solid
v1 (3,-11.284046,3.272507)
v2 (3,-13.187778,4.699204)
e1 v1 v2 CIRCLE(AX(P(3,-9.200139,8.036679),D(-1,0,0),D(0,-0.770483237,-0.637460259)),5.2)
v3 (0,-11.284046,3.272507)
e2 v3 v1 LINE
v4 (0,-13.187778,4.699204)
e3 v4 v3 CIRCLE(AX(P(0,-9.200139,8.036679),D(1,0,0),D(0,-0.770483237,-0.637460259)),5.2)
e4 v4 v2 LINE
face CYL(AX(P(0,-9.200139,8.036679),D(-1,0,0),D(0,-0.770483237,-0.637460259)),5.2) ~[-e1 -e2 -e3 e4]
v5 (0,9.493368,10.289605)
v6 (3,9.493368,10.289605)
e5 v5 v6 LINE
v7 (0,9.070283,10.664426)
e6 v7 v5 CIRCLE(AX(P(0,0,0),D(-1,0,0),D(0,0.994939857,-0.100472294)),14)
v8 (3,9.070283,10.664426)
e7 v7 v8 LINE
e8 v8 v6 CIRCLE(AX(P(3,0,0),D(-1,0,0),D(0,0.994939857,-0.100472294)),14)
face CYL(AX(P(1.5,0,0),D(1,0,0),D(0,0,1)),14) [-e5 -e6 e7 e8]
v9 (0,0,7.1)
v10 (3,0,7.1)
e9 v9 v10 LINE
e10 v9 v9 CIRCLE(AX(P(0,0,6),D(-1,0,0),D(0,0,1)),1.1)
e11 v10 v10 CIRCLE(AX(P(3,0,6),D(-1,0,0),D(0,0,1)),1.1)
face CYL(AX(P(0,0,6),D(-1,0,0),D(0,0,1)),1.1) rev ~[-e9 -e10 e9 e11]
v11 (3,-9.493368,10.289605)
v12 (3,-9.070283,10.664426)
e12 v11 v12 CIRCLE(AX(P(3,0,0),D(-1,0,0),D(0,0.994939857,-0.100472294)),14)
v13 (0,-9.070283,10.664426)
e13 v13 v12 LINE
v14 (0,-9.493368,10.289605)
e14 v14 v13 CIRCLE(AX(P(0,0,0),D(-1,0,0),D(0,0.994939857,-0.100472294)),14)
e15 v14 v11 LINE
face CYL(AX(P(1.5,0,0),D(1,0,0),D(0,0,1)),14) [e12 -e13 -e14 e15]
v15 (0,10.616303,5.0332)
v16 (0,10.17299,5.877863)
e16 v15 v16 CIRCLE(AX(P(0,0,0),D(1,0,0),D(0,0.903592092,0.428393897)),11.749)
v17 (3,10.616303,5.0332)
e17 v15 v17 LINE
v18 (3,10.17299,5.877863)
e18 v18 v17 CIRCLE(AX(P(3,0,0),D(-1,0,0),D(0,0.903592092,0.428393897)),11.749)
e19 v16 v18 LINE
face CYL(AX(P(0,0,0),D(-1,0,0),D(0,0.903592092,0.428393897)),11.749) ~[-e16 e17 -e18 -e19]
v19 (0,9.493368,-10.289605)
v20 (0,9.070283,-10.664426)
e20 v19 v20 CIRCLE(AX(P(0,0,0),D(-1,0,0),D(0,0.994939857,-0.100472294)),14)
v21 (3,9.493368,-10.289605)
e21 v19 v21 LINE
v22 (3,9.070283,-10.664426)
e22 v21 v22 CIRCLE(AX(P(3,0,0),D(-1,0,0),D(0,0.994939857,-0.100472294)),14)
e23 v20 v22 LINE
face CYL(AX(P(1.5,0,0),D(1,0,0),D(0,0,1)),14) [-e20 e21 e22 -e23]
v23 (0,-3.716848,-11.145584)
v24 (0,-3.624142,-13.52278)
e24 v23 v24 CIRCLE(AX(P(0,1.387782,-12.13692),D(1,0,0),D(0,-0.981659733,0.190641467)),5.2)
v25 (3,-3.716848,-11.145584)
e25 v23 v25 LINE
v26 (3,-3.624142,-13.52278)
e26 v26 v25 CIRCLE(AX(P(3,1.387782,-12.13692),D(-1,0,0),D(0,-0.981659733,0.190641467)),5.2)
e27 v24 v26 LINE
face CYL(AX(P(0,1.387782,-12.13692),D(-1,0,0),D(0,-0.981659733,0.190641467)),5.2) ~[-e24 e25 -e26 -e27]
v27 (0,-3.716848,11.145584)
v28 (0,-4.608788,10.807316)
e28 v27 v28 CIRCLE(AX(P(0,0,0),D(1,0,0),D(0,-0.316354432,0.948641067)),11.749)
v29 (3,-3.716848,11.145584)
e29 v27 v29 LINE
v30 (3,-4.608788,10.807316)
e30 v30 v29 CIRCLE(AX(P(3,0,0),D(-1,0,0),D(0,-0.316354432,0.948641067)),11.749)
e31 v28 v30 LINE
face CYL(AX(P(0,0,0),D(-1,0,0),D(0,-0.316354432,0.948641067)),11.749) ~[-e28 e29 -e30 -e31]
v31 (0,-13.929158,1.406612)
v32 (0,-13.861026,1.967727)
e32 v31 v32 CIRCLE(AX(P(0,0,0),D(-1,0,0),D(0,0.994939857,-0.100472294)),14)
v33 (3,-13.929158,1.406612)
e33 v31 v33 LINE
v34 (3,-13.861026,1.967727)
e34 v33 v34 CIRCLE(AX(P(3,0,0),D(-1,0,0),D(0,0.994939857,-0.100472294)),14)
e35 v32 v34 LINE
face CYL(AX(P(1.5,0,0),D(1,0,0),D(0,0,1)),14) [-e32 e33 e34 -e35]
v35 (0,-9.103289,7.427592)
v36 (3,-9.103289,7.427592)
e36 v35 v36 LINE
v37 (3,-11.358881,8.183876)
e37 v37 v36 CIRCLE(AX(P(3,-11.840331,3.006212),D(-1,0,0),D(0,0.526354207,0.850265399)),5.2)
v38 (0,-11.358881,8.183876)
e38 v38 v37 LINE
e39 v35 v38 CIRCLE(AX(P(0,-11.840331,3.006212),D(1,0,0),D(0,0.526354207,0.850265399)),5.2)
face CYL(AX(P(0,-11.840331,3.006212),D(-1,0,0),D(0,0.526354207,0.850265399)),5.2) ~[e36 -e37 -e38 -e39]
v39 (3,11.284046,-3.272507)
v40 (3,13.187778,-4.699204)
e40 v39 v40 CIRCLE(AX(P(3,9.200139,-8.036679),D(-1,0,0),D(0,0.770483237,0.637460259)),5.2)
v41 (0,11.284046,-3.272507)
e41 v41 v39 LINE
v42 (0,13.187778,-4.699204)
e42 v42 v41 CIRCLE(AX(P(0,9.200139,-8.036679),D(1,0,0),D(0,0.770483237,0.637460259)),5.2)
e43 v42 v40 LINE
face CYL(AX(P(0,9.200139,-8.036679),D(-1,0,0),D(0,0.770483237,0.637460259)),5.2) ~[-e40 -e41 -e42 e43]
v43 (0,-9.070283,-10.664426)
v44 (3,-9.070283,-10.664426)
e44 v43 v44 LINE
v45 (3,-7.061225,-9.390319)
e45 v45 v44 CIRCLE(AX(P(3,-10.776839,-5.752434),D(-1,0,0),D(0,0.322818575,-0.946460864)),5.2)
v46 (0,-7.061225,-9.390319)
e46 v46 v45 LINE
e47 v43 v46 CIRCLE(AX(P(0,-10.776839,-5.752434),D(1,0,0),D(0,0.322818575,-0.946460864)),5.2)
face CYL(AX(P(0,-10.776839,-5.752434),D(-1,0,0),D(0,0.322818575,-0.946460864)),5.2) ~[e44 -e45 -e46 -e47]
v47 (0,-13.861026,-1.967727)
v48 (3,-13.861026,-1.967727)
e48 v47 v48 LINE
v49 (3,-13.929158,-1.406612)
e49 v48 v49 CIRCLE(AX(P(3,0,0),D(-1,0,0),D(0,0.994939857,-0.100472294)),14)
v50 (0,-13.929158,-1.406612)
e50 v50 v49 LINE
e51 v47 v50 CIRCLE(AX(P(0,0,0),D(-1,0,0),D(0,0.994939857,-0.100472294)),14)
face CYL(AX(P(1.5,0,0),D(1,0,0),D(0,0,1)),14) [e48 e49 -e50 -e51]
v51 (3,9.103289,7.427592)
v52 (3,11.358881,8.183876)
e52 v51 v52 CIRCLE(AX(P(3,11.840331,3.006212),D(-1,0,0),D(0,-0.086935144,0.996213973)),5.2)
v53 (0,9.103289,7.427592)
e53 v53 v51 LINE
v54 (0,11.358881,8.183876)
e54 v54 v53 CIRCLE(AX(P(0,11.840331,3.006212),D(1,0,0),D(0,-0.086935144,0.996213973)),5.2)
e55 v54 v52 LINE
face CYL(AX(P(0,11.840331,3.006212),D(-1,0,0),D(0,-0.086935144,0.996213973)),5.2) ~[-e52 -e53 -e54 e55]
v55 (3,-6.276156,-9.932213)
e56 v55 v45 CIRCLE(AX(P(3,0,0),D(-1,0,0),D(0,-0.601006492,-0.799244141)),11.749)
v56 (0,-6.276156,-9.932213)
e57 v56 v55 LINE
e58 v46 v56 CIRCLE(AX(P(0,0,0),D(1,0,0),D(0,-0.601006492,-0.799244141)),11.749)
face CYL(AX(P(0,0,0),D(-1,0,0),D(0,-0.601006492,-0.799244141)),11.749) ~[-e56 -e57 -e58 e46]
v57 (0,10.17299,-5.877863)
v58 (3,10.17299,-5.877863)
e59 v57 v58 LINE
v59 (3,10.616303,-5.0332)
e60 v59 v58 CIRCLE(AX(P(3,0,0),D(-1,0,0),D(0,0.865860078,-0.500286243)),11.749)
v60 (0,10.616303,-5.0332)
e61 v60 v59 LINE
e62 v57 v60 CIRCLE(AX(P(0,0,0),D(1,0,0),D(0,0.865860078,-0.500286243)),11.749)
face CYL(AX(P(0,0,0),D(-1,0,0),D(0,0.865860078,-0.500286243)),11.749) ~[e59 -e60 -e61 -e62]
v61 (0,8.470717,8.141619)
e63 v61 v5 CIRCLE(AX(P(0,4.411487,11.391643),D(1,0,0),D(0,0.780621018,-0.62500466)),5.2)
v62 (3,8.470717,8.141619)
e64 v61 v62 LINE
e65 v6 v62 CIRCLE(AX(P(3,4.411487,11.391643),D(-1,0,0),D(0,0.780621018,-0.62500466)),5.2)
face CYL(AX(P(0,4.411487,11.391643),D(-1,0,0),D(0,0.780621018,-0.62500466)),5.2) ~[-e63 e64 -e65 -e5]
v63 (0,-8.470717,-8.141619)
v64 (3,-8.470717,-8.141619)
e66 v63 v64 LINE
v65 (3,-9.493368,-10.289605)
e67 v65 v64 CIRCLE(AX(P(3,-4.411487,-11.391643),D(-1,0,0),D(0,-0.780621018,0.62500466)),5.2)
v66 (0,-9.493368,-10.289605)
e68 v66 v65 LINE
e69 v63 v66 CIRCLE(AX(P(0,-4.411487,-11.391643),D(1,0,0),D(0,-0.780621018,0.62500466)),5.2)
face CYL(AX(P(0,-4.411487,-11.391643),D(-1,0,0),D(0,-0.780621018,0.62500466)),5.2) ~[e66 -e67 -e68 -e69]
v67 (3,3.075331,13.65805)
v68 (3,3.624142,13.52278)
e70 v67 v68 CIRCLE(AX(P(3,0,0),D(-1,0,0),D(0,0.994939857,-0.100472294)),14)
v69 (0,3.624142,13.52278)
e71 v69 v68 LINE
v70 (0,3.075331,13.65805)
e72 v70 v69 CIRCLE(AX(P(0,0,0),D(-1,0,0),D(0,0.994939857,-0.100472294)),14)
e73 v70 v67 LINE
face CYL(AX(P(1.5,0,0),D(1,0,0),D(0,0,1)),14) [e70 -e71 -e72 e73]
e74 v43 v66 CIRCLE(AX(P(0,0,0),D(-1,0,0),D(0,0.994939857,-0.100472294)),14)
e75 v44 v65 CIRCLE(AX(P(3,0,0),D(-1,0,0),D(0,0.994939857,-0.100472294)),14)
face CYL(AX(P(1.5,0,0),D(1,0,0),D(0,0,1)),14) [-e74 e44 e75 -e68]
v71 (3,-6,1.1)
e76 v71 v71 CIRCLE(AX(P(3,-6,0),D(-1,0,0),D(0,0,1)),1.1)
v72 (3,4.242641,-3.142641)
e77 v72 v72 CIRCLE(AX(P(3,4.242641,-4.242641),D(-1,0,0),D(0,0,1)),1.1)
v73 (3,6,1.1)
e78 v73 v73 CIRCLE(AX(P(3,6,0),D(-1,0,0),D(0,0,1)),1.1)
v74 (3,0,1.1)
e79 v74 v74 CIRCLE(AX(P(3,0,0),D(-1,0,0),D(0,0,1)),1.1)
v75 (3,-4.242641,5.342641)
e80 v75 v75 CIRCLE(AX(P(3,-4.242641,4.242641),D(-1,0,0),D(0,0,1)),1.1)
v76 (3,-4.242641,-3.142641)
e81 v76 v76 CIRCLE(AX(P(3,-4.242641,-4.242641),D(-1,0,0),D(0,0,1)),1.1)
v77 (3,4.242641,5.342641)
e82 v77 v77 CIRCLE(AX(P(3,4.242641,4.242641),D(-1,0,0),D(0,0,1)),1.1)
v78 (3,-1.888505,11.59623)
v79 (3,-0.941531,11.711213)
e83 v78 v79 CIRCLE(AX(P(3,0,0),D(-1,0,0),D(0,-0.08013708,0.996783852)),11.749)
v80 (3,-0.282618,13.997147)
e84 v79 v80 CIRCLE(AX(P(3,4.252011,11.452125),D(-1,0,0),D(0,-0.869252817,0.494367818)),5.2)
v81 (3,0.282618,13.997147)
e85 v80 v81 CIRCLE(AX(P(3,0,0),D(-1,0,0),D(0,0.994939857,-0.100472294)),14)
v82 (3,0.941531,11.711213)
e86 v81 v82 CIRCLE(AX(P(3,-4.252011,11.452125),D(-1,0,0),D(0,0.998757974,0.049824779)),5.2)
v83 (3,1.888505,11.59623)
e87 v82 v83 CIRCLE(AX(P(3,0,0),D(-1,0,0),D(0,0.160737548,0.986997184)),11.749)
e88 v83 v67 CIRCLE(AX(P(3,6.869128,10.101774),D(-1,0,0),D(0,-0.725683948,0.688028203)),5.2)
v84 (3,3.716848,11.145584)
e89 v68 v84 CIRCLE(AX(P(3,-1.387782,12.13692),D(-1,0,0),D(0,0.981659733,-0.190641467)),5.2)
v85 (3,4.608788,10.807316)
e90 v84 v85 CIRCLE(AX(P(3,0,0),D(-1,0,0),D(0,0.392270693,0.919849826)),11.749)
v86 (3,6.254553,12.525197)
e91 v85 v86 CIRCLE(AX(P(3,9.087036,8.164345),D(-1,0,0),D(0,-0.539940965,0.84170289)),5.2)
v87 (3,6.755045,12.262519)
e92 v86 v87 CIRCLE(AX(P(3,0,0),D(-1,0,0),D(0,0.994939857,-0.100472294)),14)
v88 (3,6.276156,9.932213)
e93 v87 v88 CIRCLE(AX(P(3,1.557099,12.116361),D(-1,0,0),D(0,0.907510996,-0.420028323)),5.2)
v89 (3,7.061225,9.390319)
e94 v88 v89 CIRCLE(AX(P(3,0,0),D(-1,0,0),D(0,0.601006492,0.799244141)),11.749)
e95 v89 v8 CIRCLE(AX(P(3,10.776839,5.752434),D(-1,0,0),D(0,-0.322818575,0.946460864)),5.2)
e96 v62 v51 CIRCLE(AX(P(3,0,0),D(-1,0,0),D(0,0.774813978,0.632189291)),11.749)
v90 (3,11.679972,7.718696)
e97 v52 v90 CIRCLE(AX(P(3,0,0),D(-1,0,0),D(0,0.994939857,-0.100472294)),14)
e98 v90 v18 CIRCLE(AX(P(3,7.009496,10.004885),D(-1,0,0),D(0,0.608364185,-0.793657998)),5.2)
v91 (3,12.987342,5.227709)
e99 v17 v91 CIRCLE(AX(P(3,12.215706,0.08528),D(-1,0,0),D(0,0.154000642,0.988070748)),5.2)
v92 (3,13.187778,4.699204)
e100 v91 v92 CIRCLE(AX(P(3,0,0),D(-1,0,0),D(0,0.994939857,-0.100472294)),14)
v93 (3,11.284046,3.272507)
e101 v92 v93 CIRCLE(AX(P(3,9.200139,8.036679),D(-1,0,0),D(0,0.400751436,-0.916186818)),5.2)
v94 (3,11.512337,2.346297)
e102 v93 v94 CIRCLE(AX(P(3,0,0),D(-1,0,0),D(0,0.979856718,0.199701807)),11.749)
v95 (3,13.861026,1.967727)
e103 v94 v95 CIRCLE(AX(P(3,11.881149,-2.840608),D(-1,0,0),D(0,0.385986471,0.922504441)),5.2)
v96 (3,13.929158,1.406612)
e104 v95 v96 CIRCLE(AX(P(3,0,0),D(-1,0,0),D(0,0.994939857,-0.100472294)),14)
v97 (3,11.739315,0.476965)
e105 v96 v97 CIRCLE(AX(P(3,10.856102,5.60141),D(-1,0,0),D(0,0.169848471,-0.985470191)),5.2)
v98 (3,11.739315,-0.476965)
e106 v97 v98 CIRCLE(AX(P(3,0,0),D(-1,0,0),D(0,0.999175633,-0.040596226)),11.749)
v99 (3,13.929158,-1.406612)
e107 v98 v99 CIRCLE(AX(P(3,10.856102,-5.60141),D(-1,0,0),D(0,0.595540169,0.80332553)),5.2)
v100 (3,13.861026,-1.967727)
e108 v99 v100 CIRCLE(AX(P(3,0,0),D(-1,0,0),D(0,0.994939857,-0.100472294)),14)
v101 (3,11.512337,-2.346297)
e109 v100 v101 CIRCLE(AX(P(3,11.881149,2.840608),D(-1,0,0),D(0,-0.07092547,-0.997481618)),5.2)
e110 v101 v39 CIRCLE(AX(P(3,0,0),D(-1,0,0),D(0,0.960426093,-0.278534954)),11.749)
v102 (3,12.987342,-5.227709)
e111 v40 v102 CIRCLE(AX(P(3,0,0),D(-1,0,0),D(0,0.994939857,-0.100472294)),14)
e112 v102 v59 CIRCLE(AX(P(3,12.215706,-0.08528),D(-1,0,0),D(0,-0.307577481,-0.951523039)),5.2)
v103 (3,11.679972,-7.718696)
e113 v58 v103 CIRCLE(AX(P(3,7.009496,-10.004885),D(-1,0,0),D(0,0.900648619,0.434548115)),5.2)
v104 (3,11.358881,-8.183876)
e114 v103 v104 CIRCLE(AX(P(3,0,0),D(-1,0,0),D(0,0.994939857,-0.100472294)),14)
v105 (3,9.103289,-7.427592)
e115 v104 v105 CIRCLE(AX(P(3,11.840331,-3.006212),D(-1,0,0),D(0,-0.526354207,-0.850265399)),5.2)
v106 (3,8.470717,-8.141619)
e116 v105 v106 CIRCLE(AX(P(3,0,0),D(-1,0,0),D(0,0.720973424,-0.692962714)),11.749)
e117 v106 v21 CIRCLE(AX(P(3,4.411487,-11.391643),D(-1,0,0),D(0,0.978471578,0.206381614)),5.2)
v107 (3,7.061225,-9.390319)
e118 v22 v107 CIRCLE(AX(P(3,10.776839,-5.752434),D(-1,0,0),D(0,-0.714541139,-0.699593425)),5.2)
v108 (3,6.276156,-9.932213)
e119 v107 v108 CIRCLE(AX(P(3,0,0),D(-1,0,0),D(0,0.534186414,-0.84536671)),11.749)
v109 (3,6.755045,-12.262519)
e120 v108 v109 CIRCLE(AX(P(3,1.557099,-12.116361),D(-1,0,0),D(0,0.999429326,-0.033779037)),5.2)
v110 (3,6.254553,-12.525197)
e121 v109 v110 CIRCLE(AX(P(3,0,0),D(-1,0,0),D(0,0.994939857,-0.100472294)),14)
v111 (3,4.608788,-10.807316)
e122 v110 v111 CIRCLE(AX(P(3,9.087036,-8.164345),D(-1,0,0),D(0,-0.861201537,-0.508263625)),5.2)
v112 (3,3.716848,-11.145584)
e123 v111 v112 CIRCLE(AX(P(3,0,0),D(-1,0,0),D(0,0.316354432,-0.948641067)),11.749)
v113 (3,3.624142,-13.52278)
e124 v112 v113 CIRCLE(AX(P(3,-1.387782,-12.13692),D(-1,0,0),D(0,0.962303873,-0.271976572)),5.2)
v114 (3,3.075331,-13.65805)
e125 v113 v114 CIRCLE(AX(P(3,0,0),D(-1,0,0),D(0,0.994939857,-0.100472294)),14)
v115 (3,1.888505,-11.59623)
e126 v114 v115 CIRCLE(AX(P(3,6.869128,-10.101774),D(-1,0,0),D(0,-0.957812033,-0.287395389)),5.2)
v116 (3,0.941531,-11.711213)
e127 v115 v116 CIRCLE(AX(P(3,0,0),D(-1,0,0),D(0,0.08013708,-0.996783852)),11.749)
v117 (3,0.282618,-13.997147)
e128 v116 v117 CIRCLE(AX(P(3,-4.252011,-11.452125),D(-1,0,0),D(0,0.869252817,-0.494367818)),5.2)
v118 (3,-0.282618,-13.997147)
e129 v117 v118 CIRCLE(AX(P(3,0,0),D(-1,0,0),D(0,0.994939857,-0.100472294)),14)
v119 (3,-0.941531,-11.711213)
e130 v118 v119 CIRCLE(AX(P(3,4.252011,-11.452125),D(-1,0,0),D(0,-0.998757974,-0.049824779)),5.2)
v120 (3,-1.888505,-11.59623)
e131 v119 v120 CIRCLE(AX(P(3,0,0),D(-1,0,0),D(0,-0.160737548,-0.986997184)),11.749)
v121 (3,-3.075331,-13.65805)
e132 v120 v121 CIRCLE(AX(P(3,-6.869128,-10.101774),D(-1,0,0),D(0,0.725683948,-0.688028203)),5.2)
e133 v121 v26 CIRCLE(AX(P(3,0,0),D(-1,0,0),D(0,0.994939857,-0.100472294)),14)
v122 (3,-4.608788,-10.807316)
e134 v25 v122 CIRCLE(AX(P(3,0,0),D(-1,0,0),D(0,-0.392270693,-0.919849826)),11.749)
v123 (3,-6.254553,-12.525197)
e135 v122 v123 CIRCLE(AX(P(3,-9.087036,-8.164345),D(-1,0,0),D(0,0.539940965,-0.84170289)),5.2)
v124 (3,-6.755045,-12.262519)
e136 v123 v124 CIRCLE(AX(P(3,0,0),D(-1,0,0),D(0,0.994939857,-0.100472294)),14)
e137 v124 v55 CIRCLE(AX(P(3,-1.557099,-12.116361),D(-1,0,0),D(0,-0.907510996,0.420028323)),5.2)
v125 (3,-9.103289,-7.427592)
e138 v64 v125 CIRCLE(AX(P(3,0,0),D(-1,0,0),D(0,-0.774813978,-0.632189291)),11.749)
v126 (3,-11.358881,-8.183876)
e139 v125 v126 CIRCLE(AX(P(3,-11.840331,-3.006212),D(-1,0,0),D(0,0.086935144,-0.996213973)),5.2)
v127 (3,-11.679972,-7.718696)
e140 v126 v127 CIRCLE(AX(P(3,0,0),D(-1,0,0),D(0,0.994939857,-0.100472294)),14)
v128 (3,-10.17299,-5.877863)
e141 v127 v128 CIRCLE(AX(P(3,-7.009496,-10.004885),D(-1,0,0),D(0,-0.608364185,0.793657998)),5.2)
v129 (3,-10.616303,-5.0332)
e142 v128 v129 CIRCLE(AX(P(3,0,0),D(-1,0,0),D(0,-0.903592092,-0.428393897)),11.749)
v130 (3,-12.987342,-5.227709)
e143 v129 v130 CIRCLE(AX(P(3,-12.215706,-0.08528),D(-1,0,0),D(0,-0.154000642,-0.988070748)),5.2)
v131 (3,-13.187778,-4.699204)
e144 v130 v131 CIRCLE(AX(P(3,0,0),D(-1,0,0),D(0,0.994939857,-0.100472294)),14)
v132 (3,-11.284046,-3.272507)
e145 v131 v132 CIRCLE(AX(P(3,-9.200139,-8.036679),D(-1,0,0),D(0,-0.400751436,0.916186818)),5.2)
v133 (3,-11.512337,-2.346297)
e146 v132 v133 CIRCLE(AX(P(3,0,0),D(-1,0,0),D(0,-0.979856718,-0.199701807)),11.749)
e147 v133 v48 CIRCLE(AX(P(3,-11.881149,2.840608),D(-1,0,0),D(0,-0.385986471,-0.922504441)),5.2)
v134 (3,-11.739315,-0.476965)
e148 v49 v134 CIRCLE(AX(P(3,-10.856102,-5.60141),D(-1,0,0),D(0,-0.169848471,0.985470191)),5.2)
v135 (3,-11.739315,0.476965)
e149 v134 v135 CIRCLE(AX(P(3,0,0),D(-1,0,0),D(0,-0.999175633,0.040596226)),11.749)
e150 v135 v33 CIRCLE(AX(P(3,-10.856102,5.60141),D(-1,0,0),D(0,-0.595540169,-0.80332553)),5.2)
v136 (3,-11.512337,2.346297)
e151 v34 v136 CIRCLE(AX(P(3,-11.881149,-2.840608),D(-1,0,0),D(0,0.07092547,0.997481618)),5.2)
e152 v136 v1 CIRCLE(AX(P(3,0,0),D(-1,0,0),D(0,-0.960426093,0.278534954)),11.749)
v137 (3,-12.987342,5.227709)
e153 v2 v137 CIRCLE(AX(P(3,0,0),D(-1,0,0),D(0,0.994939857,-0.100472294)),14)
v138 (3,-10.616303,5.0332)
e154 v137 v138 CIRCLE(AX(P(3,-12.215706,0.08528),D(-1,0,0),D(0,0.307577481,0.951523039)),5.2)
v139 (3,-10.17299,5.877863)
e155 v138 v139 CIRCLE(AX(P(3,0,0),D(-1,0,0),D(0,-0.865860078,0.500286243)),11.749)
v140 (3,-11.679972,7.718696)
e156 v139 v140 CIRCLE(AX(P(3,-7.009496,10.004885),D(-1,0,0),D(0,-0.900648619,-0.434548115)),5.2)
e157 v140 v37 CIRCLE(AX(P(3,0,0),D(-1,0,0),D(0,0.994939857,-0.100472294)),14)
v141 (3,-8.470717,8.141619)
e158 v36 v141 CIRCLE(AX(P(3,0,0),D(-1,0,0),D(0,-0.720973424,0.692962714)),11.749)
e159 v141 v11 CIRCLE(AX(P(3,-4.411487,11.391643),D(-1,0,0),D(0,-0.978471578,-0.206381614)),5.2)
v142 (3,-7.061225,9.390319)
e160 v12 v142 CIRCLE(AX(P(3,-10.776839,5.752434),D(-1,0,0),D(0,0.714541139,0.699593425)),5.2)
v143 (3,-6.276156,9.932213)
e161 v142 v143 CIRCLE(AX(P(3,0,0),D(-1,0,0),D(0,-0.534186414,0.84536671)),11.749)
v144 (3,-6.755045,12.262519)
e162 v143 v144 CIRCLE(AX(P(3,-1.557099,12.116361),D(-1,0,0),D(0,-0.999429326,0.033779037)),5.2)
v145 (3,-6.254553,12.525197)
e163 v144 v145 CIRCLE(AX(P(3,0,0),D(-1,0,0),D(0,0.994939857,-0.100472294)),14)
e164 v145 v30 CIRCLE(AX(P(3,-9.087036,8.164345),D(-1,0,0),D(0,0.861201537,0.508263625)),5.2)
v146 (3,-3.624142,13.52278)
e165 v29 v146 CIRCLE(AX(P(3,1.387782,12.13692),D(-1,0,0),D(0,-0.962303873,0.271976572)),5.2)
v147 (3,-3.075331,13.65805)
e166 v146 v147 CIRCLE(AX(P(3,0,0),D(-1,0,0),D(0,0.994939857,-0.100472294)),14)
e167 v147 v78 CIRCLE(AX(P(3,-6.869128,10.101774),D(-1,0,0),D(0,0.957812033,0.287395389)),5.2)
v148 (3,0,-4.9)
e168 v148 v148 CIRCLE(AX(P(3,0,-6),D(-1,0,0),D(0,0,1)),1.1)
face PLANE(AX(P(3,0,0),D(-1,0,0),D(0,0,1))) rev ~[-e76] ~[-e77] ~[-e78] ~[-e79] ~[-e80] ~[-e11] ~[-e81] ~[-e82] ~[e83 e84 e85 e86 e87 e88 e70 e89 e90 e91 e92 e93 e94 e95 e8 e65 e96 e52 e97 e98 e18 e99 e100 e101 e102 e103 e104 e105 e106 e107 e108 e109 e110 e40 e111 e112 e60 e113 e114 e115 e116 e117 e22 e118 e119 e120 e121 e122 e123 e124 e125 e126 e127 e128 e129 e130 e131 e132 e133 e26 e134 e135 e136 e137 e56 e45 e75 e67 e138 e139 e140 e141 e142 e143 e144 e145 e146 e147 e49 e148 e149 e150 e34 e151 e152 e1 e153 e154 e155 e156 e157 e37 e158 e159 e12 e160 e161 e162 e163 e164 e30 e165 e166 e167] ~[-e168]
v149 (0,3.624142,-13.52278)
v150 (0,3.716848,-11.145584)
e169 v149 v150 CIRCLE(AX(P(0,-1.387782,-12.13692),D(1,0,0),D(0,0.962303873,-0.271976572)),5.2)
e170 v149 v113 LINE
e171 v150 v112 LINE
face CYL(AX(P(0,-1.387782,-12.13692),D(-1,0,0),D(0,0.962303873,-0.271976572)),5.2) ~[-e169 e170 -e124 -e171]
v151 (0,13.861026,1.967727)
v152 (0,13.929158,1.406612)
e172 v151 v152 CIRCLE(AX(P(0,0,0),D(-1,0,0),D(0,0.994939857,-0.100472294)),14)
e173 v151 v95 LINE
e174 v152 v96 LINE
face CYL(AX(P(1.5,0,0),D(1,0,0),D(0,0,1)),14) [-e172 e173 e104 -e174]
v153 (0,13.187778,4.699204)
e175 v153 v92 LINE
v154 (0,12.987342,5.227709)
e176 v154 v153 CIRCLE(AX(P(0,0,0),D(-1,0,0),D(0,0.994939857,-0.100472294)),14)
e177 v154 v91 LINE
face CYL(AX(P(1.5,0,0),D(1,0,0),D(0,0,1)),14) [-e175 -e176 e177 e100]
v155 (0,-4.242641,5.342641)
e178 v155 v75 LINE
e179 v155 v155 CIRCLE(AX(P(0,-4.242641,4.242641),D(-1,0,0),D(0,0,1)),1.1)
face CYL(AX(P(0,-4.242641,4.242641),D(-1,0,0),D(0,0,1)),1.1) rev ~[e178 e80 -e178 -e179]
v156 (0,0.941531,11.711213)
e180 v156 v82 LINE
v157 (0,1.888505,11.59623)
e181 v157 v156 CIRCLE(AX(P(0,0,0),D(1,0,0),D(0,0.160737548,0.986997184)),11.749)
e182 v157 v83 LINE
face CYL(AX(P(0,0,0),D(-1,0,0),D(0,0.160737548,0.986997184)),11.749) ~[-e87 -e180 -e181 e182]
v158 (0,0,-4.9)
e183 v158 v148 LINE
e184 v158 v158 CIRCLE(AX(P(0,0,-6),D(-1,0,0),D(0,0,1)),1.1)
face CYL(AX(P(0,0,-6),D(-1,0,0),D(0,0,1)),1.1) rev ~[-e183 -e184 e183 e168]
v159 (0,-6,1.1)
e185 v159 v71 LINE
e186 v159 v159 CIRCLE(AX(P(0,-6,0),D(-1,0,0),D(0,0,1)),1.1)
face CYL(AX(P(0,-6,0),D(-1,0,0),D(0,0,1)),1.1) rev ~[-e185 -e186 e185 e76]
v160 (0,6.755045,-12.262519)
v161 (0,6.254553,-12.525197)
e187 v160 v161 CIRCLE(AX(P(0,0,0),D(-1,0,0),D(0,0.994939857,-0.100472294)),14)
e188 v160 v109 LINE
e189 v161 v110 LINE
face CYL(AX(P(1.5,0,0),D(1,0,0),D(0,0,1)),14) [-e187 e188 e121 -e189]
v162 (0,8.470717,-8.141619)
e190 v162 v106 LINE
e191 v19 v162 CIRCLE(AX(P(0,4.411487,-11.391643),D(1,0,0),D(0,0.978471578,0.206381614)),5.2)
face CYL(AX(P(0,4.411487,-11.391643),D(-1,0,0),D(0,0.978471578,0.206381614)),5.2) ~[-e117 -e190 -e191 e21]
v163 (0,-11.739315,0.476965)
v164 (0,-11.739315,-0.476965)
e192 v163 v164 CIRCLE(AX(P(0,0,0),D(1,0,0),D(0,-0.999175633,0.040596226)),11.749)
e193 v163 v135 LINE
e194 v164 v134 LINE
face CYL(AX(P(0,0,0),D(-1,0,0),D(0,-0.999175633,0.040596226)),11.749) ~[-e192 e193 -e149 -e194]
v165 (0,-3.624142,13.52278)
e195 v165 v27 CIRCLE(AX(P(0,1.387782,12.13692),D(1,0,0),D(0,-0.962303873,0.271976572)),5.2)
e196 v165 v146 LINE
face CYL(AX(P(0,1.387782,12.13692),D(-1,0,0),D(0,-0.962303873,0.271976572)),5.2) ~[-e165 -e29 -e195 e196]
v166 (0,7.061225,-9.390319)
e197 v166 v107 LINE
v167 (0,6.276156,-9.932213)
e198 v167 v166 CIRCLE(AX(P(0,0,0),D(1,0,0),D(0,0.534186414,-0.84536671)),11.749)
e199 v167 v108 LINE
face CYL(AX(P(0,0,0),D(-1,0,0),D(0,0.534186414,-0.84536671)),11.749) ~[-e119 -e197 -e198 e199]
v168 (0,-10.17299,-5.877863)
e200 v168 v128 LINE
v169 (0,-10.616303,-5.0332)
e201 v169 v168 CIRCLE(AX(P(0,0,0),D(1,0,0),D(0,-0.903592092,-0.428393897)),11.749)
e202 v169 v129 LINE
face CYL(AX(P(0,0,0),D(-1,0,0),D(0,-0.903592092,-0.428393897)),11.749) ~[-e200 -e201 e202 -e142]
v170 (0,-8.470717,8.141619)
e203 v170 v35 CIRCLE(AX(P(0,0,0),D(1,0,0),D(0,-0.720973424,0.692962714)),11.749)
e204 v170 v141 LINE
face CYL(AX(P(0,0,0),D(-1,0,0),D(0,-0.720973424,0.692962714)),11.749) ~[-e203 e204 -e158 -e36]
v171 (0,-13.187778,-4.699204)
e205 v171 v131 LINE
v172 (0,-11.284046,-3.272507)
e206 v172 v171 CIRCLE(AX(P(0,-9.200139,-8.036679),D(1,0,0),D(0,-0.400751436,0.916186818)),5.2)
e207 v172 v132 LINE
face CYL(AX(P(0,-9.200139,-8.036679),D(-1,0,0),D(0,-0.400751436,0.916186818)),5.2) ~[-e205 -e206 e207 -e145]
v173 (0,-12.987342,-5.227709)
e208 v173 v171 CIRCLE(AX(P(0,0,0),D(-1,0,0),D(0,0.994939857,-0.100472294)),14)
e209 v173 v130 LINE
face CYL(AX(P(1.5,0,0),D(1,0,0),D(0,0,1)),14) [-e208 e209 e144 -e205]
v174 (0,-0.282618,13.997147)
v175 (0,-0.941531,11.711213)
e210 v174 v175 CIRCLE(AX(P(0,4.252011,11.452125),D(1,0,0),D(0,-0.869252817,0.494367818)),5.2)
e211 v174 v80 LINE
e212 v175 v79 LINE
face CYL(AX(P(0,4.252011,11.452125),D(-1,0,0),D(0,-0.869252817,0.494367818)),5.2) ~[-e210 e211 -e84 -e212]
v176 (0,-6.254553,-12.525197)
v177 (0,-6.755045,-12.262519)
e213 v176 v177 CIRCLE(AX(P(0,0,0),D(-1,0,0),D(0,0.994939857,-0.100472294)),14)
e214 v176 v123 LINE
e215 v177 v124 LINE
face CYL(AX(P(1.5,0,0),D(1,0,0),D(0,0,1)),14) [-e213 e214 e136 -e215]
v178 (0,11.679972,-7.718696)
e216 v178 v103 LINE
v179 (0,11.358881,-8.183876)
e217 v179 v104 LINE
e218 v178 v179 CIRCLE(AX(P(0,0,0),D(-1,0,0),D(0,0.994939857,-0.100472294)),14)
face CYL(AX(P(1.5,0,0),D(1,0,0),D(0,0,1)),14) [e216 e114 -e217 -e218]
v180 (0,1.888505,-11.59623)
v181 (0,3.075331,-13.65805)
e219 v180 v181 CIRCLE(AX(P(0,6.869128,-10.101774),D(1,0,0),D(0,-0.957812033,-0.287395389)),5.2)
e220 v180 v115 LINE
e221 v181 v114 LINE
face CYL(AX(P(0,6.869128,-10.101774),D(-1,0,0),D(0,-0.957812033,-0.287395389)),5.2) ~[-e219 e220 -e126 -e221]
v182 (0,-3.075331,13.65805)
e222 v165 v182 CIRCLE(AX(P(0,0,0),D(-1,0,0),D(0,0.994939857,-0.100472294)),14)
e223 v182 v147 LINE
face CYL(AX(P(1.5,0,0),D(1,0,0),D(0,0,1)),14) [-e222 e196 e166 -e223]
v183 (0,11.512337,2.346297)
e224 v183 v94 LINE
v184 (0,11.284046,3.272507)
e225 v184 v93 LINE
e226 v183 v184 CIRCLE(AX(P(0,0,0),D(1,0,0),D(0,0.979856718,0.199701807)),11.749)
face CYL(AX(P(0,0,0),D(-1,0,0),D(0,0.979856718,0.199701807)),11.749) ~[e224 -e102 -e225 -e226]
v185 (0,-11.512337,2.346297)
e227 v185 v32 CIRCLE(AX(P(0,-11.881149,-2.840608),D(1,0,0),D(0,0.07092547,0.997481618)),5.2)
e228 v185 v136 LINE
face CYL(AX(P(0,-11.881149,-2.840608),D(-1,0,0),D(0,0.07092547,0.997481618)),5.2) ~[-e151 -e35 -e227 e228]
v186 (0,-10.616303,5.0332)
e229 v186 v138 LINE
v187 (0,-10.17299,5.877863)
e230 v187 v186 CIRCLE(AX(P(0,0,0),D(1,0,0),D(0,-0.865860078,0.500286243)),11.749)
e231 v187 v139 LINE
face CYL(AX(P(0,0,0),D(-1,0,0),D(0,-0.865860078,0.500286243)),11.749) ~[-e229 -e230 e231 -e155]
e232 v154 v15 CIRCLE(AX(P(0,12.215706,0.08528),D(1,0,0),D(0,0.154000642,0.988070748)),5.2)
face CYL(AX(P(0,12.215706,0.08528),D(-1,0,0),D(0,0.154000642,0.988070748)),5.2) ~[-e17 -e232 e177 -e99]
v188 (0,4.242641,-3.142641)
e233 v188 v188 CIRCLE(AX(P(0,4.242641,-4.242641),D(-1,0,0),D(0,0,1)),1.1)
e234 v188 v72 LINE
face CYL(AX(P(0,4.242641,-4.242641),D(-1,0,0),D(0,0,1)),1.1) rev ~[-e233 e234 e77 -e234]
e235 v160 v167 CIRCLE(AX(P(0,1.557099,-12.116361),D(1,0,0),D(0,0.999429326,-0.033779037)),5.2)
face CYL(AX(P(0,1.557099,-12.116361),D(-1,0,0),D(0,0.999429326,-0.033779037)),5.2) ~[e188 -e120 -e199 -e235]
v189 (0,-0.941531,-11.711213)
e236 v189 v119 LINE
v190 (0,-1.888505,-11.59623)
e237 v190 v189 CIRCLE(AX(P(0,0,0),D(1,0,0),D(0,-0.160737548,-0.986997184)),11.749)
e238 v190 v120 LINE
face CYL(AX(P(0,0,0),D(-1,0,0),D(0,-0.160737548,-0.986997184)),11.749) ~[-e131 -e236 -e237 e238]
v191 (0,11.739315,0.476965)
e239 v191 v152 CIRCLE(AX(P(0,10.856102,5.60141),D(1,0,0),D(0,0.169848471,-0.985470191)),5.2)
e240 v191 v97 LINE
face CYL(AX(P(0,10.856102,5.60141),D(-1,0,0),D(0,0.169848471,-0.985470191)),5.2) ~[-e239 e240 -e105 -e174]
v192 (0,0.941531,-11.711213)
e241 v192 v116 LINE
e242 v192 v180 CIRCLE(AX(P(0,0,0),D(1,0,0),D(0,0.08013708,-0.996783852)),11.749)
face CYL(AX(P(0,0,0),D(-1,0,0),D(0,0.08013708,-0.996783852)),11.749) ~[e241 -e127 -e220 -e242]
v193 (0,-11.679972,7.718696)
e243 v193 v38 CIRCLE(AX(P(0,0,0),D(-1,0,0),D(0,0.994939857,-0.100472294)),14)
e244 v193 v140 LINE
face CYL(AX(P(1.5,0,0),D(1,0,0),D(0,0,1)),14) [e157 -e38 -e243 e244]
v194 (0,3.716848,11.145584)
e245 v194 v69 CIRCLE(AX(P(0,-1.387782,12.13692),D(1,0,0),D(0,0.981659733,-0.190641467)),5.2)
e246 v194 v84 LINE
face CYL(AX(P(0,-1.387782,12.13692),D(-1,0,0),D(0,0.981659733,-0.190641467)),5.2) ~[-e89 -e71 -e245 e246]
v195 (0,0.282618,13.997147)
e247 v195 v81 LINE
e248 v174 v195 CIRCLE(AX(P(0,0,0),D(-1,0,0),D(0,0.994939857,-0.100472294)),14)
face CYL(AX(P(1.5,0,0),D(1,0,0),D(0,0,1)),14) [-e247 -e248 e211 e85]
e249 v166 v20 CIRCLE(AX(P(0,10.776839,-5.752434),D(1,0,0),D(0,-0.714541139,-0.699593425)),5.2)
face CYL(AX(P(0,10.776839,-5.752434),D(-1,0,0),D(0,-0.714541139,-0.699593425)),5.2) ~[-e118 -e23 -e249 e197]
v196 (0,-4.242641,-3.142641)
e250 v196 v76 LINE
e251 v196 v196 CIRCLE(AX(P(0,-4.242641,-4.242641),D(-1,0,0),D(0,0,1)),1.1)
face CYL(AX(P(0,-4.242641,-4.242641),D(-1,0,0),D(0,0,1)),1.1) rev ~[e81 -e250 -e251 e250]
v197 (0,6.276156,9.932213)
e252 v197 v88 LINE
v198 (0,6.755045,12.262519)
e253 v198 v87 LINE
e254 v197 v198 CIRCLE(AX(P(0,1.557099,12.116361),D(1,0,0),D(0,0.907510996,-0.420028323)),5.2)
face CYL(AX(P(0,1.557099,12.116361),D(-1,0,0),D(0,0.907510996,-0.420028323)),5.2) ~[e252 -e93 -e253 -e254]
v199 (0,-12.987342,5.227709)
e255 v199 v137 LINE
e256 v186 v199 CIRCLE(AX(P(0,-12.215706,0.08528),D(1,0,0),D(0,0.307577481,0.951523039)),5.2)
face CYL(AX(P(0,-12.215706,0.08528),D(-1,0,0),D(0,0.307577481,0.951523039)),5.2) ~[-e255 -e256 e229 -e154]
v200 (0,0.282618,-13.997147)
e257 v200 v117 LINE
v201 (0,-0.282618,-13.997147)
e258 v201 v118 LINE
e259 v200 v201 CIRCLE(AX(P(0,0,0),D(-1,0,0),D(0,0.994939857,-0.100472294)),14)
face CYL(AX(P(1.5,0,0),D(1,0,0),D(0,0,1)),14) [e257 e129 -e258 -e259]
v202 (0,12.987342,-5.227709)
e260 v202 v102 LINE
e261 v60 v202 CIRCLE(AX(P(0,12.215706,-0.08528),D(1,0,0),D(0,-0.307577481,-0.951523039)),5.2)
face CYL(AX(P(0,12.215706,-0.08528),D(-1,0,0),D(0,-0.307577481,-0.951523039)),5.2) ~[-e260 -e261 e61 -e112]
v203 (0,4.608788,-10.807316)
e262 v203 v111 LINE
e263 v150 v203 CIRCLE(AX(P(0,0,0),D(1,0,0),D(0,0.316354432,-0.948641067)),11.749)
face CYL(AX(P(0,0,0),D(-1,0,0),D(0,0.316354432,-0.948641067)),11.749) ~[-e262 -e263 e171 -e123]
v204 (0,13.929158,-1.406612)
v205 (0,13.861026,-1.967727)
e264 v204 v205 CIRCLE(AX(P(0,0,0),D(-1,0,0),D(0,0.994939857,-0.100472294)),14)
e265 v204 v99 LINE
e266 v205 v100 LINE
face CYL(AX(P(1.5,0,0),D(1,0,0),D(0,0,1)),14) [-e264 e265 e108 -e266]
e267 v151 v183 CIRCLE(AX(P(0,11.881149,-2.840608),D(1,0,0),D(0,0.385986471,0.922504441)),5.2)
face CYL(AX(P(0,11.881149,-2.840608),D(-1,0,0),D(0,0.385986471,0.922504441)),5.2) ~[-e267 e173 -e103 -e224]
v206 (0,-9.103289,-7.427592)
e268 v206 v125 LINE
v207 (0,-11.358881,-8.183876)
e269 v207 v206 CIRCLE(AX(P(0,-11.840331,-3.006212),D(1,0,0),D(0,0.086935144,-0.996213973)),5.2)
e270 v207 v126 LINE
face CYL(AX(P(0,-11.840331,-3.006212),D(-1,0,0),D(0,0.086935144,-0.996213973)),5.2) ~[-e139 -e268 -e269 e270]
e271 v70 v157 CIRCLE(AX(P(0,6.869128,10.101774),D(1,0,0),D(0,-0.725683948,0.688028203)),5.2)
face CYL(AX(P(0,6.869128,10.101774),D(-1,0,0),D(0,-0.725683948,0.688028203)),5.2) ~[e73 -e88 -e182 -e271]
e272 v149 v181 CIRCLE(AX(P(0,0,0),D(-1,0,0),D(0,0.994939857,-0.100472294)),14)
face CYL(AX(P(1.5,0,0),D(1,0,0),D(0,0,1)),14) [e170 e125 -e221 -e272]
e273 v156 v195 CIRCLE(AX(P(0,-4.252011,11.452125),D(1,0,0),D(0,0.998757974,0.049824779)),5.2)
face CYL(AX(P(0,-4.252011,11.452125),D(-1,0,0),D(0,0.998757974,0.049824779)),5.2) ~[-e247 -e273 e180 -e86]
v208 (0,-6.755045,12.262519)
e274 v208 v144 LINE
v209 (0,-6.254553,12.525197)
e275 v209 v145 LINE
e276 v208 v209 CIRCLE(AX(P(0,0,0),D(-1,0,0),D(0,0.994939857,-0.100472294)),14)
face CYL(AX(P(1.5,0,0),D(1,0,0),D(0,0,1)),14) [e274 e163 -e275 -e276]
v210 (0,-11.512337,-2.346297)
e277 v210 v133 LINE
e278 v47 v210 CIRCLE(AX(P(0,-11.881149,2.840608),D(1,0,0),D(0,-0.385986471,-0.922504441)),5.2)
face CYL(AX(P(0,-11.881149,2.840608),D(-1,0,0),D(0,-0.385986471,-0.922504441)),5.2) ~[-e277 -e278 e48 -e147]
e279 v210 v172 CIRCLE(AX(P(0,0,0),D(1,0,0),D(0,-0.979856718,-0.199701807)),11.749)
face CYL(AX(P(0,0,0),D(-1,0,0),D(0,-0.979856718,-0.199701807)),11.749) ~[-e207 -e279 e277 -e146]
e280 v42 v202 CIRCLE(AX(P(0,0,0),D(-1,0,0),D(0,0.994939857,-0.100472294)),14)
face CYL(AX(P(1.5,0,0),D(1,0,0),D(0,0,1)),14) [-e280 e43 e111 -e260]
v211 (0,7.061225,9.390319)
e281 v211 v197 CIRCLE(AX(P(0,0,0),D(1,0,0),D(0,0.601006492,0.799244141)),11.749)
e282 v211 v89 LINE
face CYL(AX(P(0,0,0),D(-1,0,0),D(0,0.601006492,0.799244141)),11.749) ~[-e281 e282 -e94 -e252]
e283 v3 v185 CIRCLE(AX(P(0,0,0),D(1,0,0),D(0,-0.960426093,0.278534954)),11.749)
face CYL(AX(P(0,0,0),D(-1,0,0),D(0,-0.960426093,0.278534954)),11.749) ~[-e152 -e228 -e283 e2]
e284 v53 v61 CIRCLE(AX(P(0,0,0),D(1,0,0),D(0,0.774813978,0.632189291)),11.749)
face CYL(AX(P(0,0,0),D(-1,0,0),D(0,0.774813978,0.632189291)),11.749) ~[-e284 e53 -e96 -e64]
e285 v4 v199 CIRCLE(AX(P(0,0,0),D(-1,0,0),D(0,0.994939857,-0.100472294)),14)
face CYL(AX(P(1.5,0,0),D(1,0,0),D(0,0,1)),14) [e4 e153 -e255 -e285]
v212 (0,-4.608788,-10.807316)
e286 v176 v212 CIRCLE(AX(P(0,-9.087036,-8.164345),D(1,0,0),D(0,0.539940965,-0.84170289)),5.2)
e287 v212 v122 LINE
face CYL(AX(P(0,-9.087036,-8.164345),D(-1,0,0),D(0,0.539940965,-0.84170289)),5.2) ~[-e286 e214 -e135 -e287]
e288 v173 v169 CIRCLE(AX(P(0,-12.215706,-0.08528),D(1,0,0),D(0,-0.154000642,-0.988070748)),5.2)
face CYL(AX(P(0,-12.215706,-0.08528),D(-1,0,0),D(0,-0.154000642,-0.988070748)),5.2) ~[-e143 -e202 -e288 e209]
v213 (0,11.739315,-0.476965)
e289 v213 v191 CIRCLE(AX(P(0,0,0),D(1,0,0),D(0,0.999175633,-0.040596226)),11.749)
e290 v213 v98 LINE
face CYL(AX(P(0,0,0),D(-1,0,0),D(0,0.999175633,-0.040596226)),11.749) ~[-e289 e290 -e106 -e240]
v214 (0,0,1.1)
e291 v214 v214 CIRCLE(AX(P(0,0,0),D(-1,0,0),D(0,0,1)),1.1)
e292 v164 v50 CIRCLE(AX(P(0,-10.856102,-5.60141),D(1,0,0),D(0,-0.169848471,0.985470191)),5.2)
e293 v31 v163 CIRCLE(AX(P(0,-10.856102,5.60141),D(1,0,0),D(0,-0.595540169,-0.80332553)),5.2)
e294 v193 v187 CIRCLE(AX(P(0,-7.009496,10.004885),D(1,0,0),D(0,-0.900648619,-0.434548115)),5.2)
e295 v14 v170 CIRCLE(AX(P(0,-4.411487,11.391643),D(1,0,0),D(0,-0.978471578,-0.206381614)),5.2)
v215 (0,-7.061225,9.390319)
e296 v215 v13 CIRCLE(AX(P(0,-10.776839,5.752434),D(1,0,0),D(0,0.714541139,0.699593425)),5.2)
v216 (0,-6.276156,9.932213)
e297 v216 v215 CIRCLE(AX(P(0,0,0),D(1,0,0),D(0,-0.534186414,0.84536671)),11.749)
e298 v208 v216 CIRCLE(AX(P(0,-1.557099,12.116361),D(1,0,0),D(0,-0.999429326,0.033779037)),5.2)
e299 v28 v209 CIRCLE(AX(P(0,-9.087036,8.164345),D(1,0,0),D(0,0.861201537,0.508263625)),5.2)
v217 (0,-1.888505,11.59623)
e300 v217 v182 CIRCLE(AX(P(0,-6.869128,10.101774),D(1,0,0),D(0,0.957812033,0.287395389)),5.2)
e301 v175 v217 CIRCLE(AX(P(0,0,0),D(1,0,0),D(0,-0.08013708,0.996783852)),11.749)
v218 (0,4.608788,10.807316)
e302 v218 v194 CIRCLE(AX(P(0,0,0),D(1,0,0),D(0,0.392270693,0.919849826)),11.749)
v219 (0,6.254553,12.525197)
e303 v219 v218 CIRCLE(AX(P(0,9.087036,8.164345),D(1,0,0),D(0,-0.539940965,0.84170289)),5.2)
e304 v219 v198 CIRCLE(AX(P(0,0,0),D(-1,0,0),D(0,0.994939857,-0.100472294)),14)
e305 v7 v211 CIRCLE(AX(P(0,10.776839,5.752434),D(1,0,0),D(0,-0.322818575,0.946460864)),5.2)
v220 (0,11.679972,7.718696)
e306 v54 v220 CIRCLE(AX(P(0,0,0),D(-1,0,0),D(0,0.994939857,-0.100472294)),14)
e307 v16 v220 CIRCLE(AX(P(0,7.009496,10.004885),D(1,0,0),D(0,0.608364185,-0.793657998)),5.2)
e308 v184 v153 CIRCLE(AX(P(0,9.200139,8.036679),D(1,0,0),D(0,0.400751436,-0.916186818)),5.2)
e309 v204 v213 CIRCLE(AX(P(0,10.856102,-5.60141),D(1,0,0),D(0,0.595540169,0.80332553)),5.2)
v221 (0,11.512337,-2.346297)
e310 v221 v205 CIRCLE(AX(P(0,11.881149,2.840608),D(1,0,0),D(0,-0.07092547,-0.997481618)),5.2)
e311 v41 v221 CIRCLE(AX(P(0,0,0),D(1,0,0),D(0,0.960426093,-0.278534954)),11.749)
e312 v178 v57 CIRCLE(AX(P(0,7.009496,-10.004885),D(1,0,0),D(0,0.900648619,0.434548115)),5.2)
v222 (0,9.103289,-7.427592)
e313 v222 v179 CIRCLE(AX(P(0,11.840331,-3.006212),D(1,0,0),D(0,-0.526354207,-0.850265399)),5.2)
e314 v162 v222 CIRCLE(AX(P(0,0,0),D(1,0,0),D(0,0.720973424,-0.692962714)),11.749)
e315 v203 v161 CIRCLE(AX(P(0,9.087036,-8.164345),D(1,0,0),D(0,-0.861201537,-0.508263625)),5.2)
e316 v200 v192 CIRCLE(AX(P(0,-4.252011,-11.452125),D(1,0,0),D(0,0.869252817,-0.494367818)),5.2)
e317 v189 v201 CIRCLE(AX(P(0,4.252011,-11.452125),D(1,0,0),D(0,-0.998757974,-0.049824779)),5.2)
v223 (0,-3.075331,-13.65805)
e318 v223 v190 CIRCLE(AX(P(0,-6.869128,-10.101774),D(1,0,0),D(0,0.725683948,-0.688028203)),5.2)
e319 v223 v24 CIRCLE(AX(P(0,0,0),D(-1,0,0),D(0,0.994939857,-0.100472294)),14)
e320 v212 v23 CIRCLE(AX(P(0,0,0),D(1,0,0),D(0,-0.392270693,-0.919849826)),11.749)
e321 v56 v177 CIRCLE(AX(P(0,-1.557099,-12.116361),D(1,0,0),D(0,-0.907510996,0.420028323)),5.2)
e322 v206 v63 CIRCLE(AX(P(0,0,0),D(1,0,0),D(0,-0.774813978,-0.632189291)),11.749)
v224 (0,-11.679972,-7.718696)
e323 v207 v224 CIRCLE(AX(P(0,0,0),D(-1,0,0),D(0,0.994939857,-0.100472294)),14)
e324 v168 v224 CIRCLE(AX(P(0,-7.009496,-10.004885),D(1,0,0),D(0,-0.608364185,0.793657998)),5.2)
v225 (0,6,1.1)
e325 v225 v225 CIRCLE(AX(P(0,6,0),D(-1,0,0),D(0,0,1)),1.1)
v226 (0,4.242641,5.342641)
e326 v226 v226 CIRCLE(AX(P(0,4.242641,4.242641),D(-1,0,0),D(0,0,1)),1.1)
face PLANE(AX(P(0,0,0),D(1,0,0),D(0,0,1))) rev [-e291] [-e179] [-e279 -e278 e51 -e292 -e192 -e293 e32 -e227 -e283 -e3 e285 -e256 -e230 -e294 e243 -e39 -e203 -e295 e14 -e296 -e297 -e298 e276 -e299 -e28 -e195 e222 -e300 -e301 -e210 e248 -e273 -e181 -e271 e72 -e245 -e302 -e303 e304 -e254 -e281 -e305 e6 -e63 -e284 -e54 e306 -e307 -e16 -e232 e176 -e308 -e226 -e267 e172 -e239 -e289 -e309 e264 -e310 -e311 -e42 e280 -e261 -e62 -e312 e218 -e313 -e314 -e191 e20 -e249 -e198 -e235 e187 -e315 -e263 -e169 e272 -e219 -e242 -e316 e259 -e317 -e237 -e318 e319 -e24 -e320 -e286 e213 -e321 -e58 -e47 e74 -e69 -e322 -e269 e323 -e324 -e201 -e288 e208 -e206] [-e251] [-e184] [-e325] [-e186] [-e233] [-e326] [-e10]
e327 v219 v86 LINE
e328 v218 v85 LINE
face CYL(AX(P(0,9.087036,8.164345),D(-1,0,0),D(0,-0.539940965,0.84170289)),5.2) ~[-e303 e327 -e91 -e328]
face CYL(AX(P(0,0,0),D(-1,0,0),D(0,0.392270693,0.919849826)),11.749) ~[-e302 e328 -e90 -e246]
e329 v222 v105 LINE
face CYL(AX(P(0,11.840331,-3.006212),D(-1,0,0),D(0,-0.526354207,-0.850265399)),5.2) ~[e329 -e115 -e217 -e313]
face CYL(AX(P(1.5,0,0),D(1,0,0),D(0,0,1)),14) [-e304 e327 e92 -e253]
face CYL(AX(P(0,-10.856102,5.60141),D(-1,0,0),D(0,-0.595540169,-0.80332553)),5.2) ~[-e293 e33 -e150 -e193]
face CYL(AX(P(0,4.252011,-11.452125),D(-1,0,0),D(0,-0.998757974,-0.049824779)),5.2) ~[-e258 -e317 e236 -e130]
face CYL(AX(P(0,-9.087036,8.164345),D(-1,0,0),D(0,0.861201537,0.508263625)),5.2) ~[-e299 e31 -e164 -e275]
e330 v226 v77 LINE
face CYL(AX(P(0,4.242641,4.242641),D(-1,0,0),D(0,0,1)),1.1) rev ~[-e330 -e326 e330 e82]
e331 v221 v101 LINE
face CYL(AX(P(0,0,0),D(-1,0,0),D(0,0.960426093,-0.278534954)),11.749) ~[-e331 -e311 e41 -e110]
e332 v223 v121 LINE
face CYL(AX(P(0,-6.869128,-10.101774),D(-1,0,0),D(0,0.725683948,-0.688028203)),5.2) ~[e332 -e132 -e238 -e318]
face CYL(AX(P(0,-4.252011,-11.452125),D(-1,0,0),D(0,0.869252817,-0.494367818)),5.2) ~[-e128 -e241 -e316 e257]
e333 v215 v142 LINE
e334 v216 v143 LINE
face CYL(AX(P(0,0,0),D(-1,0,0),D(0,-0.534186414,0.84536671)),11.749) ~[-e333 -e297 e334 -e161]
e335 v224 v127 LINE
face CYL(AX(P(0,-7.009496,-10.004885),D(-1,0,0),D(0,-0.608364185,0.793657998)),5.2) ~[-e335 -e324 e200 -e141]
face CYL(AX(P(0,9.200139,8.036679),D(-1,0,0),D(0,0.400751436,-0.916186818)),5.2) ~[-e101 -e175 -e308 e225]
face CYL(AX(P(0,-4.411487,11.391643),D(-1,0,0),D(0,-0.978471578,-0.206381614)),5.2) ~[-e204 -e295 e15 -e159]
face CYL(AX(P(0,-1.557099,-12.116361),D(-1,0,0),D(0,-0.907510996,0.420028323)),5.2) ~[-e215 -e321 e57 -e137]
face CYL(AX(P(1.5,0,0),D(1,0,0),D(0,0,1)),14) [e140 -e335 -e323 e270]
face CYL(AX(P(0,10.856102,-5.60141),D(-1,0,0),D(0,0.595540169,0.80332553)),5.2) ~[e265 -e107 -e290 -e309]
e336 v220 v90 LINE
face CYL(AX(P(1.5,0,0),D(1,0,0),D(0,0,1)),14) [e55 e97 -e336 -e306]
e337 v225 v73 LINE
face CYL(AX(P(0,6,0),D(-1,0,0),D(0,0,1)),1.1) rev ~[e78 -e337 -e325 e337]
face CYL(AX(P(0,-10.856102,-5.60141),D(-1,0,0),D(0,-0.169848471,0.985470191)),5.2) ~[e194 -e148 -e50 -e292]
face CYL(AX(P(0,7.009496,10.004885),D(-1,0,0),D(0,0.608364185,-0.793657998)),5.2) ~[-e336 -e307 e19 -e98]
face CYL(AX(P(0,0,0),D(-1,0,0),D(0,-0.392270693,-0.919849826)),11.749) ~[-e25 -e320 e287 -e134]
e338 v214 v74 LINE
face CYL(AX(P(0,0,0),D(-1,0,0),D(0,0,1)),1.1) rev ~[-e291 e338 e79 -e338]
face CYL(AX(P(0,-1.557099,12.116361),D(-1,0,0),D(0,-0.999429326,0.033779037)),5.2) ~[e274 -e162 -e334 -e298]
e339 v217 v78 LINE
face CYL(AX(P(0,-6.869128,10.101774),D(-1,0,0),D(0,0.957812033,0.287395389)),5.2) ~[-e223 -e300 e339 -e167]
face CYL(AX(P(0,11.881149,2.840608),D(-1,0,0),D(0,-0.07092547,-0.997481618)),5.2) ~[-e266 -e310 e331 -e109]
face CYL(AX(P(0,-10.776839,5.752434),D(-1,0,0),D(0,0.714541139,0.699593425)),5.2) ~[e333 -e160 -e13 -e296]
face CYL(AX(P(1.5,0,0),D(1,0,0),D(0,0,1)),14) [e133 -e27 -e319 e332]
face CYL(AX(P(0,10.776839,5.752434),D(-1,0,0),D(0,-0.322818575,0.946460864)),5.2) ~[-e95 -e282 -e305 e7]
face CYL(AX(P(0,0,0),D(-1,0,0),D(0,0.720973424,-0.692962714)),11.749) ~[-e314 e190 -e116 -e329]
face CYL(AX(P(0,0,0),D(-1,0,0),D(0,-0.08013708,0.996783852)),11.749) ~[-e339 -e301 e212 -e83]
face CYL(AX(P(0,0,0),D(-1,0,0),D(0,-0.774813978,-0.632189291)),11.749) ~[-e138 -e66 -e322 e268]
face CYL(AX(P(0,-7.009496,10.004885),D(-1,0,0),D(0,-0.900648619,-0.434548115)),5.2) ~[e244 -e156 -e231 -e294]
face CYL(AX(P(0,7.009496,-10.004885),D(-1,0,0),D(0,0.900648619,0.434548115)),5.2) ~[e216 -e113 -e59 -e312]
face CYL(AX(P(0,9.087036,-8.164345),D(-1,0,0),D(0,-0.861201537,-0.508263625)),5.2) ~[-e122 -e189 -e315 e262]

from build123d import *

# Parameters (mm, degrees)
BASPROSKE_W         = 3
BASPROSKE_H         = 14
TOOTHCUT_DEPTH      = 21.024984395
TEETHCUTS_COUNT     = 26
TEETHCUTS_ANGLE     = 346.153846154
BORSKE_R            = 4
BORE_DEPTH          = 50.0000508
EXTRUDE_START       = -3
SKETCH_1_R          = 4
EXTRUDE_1_DEPTH     = 3
SKETCH_2_R          = 1.1
CUT_EXTRUDE_1_DEPTH = 3


with BuildPart() as part:
    # BasProSke → Base-Revolve (revolve)
    with BuildSketch(Plane(origin=(0, 0, 0), x_dir=(1, 0, 0), z_dir=(0, 1, 0)), mode=Mode.PRIVATE) as base_revolve_sk:
        with Locations((1.5, 7)):
            Rectangle(BASPROSKE_W, BASPROSKE_H)
    revolve(base_revolve_sk.sketch.rotate(Axis((-10, 0, 0), (1, 0, 0)), 180), axis=Axis((-10, 0, 0), (1, 0, 0)))

    # TooCutSke → ToothCut (cut, through all)
    with BuildSketch(Plane(origin=(0, 0, 0), x_dir=(0, 0, -1), z_dir=(1, 0, 0))):
        with BuildLine():
            ThreePointArc((0.476965065, 11.739314517), (0, 11.749), (-0.476965065, 11.739314517))
            ThreePointArc((-0.476965065, 11.739314517), (-0.82065865, 12.901686978), (-1.424117301, 13.952911348))
            ThreePointArc((-1.424117301, 13.952911348), (0, 14.0254), (1.424117301, 13.952911348))
            ThreePointArc((1.424117301, 13.952911348), (0.82065865, 12.901686978), (0.476965065, 11.739314517))
        make_face()
    toothcut = extrude(amount=TOOTHCUT_DEPTH, mode=Mode.SUBTRACT)

    # TeethCuts: ToothCut ×26 about axis
    teethcuts_axis = Axis((-10, 0, 0), (1, 0, 0))
    for i in range(1, TEETHCUTS_COUNT):
        add(toothcut.rotate(teethcuts_axis, i * TEETHCUTS_ANGLE / (TEETHCUTS_COUNT - 1)), mode=Mode.SUBTRACT)

    # BorSke → Bore (cut, symmetric)
    with BuildSketch(Plane(origin=(0, 0, 0), x_dir=(0, 0, -1), z_dir=(1, 0, 0))):
        with Locations(Location((0, 0, 0), (0, 0, 180))):
            Circle(BORSKE_R)
    extrude(amount=BORE_DEPTH, both=True, mode=Mode.SUBTRACT)

    # ｽｹｯﾁ1 → ﾎﾞｽ - 押し出し1 (add)
    with BuildSketch(Plane.ZY.offset(EXTRUDE_START)):
        Circle(SKETCH_1_R)
    extrude(amount=EXTRUDE_1_DEPTH)

    # ｽｹｯﾁ2 → ｶｯﾄ - 押し出し1 (cut)
    with BuildSketch(Plane.ZY):
        Circle(SKETCH_2_R)
        with Locations((0, 6)):
            Circle(SKETCH_2_R)
        with Locations((4.242640687, 4.242640687)):
            Circle(SKETCH_2_R)
        with Locations((6, 0)):
            Circle(SKETCH_2_R)
        with Locations((4.242640687, -4.242640687)):
            Circle(SKETCH_2_R)
        with Locations((0, -6)):
            Circle(SKETCH_2_R)
        with Locations((-4.242640687, -4.242640687)):
            Circle(SKETCH_2_R)
        with Locations((-6, 0)):
            Circle(SKETCH_2_R)
        with Locations((-4.242640687, 4.242640687)):
            Circle(SKETCH_2_R)
    extrude(amount=-CUT_EXTRUDE_1_DEPTH, mode=Mode.SUBTRACT)


solid = part.part
